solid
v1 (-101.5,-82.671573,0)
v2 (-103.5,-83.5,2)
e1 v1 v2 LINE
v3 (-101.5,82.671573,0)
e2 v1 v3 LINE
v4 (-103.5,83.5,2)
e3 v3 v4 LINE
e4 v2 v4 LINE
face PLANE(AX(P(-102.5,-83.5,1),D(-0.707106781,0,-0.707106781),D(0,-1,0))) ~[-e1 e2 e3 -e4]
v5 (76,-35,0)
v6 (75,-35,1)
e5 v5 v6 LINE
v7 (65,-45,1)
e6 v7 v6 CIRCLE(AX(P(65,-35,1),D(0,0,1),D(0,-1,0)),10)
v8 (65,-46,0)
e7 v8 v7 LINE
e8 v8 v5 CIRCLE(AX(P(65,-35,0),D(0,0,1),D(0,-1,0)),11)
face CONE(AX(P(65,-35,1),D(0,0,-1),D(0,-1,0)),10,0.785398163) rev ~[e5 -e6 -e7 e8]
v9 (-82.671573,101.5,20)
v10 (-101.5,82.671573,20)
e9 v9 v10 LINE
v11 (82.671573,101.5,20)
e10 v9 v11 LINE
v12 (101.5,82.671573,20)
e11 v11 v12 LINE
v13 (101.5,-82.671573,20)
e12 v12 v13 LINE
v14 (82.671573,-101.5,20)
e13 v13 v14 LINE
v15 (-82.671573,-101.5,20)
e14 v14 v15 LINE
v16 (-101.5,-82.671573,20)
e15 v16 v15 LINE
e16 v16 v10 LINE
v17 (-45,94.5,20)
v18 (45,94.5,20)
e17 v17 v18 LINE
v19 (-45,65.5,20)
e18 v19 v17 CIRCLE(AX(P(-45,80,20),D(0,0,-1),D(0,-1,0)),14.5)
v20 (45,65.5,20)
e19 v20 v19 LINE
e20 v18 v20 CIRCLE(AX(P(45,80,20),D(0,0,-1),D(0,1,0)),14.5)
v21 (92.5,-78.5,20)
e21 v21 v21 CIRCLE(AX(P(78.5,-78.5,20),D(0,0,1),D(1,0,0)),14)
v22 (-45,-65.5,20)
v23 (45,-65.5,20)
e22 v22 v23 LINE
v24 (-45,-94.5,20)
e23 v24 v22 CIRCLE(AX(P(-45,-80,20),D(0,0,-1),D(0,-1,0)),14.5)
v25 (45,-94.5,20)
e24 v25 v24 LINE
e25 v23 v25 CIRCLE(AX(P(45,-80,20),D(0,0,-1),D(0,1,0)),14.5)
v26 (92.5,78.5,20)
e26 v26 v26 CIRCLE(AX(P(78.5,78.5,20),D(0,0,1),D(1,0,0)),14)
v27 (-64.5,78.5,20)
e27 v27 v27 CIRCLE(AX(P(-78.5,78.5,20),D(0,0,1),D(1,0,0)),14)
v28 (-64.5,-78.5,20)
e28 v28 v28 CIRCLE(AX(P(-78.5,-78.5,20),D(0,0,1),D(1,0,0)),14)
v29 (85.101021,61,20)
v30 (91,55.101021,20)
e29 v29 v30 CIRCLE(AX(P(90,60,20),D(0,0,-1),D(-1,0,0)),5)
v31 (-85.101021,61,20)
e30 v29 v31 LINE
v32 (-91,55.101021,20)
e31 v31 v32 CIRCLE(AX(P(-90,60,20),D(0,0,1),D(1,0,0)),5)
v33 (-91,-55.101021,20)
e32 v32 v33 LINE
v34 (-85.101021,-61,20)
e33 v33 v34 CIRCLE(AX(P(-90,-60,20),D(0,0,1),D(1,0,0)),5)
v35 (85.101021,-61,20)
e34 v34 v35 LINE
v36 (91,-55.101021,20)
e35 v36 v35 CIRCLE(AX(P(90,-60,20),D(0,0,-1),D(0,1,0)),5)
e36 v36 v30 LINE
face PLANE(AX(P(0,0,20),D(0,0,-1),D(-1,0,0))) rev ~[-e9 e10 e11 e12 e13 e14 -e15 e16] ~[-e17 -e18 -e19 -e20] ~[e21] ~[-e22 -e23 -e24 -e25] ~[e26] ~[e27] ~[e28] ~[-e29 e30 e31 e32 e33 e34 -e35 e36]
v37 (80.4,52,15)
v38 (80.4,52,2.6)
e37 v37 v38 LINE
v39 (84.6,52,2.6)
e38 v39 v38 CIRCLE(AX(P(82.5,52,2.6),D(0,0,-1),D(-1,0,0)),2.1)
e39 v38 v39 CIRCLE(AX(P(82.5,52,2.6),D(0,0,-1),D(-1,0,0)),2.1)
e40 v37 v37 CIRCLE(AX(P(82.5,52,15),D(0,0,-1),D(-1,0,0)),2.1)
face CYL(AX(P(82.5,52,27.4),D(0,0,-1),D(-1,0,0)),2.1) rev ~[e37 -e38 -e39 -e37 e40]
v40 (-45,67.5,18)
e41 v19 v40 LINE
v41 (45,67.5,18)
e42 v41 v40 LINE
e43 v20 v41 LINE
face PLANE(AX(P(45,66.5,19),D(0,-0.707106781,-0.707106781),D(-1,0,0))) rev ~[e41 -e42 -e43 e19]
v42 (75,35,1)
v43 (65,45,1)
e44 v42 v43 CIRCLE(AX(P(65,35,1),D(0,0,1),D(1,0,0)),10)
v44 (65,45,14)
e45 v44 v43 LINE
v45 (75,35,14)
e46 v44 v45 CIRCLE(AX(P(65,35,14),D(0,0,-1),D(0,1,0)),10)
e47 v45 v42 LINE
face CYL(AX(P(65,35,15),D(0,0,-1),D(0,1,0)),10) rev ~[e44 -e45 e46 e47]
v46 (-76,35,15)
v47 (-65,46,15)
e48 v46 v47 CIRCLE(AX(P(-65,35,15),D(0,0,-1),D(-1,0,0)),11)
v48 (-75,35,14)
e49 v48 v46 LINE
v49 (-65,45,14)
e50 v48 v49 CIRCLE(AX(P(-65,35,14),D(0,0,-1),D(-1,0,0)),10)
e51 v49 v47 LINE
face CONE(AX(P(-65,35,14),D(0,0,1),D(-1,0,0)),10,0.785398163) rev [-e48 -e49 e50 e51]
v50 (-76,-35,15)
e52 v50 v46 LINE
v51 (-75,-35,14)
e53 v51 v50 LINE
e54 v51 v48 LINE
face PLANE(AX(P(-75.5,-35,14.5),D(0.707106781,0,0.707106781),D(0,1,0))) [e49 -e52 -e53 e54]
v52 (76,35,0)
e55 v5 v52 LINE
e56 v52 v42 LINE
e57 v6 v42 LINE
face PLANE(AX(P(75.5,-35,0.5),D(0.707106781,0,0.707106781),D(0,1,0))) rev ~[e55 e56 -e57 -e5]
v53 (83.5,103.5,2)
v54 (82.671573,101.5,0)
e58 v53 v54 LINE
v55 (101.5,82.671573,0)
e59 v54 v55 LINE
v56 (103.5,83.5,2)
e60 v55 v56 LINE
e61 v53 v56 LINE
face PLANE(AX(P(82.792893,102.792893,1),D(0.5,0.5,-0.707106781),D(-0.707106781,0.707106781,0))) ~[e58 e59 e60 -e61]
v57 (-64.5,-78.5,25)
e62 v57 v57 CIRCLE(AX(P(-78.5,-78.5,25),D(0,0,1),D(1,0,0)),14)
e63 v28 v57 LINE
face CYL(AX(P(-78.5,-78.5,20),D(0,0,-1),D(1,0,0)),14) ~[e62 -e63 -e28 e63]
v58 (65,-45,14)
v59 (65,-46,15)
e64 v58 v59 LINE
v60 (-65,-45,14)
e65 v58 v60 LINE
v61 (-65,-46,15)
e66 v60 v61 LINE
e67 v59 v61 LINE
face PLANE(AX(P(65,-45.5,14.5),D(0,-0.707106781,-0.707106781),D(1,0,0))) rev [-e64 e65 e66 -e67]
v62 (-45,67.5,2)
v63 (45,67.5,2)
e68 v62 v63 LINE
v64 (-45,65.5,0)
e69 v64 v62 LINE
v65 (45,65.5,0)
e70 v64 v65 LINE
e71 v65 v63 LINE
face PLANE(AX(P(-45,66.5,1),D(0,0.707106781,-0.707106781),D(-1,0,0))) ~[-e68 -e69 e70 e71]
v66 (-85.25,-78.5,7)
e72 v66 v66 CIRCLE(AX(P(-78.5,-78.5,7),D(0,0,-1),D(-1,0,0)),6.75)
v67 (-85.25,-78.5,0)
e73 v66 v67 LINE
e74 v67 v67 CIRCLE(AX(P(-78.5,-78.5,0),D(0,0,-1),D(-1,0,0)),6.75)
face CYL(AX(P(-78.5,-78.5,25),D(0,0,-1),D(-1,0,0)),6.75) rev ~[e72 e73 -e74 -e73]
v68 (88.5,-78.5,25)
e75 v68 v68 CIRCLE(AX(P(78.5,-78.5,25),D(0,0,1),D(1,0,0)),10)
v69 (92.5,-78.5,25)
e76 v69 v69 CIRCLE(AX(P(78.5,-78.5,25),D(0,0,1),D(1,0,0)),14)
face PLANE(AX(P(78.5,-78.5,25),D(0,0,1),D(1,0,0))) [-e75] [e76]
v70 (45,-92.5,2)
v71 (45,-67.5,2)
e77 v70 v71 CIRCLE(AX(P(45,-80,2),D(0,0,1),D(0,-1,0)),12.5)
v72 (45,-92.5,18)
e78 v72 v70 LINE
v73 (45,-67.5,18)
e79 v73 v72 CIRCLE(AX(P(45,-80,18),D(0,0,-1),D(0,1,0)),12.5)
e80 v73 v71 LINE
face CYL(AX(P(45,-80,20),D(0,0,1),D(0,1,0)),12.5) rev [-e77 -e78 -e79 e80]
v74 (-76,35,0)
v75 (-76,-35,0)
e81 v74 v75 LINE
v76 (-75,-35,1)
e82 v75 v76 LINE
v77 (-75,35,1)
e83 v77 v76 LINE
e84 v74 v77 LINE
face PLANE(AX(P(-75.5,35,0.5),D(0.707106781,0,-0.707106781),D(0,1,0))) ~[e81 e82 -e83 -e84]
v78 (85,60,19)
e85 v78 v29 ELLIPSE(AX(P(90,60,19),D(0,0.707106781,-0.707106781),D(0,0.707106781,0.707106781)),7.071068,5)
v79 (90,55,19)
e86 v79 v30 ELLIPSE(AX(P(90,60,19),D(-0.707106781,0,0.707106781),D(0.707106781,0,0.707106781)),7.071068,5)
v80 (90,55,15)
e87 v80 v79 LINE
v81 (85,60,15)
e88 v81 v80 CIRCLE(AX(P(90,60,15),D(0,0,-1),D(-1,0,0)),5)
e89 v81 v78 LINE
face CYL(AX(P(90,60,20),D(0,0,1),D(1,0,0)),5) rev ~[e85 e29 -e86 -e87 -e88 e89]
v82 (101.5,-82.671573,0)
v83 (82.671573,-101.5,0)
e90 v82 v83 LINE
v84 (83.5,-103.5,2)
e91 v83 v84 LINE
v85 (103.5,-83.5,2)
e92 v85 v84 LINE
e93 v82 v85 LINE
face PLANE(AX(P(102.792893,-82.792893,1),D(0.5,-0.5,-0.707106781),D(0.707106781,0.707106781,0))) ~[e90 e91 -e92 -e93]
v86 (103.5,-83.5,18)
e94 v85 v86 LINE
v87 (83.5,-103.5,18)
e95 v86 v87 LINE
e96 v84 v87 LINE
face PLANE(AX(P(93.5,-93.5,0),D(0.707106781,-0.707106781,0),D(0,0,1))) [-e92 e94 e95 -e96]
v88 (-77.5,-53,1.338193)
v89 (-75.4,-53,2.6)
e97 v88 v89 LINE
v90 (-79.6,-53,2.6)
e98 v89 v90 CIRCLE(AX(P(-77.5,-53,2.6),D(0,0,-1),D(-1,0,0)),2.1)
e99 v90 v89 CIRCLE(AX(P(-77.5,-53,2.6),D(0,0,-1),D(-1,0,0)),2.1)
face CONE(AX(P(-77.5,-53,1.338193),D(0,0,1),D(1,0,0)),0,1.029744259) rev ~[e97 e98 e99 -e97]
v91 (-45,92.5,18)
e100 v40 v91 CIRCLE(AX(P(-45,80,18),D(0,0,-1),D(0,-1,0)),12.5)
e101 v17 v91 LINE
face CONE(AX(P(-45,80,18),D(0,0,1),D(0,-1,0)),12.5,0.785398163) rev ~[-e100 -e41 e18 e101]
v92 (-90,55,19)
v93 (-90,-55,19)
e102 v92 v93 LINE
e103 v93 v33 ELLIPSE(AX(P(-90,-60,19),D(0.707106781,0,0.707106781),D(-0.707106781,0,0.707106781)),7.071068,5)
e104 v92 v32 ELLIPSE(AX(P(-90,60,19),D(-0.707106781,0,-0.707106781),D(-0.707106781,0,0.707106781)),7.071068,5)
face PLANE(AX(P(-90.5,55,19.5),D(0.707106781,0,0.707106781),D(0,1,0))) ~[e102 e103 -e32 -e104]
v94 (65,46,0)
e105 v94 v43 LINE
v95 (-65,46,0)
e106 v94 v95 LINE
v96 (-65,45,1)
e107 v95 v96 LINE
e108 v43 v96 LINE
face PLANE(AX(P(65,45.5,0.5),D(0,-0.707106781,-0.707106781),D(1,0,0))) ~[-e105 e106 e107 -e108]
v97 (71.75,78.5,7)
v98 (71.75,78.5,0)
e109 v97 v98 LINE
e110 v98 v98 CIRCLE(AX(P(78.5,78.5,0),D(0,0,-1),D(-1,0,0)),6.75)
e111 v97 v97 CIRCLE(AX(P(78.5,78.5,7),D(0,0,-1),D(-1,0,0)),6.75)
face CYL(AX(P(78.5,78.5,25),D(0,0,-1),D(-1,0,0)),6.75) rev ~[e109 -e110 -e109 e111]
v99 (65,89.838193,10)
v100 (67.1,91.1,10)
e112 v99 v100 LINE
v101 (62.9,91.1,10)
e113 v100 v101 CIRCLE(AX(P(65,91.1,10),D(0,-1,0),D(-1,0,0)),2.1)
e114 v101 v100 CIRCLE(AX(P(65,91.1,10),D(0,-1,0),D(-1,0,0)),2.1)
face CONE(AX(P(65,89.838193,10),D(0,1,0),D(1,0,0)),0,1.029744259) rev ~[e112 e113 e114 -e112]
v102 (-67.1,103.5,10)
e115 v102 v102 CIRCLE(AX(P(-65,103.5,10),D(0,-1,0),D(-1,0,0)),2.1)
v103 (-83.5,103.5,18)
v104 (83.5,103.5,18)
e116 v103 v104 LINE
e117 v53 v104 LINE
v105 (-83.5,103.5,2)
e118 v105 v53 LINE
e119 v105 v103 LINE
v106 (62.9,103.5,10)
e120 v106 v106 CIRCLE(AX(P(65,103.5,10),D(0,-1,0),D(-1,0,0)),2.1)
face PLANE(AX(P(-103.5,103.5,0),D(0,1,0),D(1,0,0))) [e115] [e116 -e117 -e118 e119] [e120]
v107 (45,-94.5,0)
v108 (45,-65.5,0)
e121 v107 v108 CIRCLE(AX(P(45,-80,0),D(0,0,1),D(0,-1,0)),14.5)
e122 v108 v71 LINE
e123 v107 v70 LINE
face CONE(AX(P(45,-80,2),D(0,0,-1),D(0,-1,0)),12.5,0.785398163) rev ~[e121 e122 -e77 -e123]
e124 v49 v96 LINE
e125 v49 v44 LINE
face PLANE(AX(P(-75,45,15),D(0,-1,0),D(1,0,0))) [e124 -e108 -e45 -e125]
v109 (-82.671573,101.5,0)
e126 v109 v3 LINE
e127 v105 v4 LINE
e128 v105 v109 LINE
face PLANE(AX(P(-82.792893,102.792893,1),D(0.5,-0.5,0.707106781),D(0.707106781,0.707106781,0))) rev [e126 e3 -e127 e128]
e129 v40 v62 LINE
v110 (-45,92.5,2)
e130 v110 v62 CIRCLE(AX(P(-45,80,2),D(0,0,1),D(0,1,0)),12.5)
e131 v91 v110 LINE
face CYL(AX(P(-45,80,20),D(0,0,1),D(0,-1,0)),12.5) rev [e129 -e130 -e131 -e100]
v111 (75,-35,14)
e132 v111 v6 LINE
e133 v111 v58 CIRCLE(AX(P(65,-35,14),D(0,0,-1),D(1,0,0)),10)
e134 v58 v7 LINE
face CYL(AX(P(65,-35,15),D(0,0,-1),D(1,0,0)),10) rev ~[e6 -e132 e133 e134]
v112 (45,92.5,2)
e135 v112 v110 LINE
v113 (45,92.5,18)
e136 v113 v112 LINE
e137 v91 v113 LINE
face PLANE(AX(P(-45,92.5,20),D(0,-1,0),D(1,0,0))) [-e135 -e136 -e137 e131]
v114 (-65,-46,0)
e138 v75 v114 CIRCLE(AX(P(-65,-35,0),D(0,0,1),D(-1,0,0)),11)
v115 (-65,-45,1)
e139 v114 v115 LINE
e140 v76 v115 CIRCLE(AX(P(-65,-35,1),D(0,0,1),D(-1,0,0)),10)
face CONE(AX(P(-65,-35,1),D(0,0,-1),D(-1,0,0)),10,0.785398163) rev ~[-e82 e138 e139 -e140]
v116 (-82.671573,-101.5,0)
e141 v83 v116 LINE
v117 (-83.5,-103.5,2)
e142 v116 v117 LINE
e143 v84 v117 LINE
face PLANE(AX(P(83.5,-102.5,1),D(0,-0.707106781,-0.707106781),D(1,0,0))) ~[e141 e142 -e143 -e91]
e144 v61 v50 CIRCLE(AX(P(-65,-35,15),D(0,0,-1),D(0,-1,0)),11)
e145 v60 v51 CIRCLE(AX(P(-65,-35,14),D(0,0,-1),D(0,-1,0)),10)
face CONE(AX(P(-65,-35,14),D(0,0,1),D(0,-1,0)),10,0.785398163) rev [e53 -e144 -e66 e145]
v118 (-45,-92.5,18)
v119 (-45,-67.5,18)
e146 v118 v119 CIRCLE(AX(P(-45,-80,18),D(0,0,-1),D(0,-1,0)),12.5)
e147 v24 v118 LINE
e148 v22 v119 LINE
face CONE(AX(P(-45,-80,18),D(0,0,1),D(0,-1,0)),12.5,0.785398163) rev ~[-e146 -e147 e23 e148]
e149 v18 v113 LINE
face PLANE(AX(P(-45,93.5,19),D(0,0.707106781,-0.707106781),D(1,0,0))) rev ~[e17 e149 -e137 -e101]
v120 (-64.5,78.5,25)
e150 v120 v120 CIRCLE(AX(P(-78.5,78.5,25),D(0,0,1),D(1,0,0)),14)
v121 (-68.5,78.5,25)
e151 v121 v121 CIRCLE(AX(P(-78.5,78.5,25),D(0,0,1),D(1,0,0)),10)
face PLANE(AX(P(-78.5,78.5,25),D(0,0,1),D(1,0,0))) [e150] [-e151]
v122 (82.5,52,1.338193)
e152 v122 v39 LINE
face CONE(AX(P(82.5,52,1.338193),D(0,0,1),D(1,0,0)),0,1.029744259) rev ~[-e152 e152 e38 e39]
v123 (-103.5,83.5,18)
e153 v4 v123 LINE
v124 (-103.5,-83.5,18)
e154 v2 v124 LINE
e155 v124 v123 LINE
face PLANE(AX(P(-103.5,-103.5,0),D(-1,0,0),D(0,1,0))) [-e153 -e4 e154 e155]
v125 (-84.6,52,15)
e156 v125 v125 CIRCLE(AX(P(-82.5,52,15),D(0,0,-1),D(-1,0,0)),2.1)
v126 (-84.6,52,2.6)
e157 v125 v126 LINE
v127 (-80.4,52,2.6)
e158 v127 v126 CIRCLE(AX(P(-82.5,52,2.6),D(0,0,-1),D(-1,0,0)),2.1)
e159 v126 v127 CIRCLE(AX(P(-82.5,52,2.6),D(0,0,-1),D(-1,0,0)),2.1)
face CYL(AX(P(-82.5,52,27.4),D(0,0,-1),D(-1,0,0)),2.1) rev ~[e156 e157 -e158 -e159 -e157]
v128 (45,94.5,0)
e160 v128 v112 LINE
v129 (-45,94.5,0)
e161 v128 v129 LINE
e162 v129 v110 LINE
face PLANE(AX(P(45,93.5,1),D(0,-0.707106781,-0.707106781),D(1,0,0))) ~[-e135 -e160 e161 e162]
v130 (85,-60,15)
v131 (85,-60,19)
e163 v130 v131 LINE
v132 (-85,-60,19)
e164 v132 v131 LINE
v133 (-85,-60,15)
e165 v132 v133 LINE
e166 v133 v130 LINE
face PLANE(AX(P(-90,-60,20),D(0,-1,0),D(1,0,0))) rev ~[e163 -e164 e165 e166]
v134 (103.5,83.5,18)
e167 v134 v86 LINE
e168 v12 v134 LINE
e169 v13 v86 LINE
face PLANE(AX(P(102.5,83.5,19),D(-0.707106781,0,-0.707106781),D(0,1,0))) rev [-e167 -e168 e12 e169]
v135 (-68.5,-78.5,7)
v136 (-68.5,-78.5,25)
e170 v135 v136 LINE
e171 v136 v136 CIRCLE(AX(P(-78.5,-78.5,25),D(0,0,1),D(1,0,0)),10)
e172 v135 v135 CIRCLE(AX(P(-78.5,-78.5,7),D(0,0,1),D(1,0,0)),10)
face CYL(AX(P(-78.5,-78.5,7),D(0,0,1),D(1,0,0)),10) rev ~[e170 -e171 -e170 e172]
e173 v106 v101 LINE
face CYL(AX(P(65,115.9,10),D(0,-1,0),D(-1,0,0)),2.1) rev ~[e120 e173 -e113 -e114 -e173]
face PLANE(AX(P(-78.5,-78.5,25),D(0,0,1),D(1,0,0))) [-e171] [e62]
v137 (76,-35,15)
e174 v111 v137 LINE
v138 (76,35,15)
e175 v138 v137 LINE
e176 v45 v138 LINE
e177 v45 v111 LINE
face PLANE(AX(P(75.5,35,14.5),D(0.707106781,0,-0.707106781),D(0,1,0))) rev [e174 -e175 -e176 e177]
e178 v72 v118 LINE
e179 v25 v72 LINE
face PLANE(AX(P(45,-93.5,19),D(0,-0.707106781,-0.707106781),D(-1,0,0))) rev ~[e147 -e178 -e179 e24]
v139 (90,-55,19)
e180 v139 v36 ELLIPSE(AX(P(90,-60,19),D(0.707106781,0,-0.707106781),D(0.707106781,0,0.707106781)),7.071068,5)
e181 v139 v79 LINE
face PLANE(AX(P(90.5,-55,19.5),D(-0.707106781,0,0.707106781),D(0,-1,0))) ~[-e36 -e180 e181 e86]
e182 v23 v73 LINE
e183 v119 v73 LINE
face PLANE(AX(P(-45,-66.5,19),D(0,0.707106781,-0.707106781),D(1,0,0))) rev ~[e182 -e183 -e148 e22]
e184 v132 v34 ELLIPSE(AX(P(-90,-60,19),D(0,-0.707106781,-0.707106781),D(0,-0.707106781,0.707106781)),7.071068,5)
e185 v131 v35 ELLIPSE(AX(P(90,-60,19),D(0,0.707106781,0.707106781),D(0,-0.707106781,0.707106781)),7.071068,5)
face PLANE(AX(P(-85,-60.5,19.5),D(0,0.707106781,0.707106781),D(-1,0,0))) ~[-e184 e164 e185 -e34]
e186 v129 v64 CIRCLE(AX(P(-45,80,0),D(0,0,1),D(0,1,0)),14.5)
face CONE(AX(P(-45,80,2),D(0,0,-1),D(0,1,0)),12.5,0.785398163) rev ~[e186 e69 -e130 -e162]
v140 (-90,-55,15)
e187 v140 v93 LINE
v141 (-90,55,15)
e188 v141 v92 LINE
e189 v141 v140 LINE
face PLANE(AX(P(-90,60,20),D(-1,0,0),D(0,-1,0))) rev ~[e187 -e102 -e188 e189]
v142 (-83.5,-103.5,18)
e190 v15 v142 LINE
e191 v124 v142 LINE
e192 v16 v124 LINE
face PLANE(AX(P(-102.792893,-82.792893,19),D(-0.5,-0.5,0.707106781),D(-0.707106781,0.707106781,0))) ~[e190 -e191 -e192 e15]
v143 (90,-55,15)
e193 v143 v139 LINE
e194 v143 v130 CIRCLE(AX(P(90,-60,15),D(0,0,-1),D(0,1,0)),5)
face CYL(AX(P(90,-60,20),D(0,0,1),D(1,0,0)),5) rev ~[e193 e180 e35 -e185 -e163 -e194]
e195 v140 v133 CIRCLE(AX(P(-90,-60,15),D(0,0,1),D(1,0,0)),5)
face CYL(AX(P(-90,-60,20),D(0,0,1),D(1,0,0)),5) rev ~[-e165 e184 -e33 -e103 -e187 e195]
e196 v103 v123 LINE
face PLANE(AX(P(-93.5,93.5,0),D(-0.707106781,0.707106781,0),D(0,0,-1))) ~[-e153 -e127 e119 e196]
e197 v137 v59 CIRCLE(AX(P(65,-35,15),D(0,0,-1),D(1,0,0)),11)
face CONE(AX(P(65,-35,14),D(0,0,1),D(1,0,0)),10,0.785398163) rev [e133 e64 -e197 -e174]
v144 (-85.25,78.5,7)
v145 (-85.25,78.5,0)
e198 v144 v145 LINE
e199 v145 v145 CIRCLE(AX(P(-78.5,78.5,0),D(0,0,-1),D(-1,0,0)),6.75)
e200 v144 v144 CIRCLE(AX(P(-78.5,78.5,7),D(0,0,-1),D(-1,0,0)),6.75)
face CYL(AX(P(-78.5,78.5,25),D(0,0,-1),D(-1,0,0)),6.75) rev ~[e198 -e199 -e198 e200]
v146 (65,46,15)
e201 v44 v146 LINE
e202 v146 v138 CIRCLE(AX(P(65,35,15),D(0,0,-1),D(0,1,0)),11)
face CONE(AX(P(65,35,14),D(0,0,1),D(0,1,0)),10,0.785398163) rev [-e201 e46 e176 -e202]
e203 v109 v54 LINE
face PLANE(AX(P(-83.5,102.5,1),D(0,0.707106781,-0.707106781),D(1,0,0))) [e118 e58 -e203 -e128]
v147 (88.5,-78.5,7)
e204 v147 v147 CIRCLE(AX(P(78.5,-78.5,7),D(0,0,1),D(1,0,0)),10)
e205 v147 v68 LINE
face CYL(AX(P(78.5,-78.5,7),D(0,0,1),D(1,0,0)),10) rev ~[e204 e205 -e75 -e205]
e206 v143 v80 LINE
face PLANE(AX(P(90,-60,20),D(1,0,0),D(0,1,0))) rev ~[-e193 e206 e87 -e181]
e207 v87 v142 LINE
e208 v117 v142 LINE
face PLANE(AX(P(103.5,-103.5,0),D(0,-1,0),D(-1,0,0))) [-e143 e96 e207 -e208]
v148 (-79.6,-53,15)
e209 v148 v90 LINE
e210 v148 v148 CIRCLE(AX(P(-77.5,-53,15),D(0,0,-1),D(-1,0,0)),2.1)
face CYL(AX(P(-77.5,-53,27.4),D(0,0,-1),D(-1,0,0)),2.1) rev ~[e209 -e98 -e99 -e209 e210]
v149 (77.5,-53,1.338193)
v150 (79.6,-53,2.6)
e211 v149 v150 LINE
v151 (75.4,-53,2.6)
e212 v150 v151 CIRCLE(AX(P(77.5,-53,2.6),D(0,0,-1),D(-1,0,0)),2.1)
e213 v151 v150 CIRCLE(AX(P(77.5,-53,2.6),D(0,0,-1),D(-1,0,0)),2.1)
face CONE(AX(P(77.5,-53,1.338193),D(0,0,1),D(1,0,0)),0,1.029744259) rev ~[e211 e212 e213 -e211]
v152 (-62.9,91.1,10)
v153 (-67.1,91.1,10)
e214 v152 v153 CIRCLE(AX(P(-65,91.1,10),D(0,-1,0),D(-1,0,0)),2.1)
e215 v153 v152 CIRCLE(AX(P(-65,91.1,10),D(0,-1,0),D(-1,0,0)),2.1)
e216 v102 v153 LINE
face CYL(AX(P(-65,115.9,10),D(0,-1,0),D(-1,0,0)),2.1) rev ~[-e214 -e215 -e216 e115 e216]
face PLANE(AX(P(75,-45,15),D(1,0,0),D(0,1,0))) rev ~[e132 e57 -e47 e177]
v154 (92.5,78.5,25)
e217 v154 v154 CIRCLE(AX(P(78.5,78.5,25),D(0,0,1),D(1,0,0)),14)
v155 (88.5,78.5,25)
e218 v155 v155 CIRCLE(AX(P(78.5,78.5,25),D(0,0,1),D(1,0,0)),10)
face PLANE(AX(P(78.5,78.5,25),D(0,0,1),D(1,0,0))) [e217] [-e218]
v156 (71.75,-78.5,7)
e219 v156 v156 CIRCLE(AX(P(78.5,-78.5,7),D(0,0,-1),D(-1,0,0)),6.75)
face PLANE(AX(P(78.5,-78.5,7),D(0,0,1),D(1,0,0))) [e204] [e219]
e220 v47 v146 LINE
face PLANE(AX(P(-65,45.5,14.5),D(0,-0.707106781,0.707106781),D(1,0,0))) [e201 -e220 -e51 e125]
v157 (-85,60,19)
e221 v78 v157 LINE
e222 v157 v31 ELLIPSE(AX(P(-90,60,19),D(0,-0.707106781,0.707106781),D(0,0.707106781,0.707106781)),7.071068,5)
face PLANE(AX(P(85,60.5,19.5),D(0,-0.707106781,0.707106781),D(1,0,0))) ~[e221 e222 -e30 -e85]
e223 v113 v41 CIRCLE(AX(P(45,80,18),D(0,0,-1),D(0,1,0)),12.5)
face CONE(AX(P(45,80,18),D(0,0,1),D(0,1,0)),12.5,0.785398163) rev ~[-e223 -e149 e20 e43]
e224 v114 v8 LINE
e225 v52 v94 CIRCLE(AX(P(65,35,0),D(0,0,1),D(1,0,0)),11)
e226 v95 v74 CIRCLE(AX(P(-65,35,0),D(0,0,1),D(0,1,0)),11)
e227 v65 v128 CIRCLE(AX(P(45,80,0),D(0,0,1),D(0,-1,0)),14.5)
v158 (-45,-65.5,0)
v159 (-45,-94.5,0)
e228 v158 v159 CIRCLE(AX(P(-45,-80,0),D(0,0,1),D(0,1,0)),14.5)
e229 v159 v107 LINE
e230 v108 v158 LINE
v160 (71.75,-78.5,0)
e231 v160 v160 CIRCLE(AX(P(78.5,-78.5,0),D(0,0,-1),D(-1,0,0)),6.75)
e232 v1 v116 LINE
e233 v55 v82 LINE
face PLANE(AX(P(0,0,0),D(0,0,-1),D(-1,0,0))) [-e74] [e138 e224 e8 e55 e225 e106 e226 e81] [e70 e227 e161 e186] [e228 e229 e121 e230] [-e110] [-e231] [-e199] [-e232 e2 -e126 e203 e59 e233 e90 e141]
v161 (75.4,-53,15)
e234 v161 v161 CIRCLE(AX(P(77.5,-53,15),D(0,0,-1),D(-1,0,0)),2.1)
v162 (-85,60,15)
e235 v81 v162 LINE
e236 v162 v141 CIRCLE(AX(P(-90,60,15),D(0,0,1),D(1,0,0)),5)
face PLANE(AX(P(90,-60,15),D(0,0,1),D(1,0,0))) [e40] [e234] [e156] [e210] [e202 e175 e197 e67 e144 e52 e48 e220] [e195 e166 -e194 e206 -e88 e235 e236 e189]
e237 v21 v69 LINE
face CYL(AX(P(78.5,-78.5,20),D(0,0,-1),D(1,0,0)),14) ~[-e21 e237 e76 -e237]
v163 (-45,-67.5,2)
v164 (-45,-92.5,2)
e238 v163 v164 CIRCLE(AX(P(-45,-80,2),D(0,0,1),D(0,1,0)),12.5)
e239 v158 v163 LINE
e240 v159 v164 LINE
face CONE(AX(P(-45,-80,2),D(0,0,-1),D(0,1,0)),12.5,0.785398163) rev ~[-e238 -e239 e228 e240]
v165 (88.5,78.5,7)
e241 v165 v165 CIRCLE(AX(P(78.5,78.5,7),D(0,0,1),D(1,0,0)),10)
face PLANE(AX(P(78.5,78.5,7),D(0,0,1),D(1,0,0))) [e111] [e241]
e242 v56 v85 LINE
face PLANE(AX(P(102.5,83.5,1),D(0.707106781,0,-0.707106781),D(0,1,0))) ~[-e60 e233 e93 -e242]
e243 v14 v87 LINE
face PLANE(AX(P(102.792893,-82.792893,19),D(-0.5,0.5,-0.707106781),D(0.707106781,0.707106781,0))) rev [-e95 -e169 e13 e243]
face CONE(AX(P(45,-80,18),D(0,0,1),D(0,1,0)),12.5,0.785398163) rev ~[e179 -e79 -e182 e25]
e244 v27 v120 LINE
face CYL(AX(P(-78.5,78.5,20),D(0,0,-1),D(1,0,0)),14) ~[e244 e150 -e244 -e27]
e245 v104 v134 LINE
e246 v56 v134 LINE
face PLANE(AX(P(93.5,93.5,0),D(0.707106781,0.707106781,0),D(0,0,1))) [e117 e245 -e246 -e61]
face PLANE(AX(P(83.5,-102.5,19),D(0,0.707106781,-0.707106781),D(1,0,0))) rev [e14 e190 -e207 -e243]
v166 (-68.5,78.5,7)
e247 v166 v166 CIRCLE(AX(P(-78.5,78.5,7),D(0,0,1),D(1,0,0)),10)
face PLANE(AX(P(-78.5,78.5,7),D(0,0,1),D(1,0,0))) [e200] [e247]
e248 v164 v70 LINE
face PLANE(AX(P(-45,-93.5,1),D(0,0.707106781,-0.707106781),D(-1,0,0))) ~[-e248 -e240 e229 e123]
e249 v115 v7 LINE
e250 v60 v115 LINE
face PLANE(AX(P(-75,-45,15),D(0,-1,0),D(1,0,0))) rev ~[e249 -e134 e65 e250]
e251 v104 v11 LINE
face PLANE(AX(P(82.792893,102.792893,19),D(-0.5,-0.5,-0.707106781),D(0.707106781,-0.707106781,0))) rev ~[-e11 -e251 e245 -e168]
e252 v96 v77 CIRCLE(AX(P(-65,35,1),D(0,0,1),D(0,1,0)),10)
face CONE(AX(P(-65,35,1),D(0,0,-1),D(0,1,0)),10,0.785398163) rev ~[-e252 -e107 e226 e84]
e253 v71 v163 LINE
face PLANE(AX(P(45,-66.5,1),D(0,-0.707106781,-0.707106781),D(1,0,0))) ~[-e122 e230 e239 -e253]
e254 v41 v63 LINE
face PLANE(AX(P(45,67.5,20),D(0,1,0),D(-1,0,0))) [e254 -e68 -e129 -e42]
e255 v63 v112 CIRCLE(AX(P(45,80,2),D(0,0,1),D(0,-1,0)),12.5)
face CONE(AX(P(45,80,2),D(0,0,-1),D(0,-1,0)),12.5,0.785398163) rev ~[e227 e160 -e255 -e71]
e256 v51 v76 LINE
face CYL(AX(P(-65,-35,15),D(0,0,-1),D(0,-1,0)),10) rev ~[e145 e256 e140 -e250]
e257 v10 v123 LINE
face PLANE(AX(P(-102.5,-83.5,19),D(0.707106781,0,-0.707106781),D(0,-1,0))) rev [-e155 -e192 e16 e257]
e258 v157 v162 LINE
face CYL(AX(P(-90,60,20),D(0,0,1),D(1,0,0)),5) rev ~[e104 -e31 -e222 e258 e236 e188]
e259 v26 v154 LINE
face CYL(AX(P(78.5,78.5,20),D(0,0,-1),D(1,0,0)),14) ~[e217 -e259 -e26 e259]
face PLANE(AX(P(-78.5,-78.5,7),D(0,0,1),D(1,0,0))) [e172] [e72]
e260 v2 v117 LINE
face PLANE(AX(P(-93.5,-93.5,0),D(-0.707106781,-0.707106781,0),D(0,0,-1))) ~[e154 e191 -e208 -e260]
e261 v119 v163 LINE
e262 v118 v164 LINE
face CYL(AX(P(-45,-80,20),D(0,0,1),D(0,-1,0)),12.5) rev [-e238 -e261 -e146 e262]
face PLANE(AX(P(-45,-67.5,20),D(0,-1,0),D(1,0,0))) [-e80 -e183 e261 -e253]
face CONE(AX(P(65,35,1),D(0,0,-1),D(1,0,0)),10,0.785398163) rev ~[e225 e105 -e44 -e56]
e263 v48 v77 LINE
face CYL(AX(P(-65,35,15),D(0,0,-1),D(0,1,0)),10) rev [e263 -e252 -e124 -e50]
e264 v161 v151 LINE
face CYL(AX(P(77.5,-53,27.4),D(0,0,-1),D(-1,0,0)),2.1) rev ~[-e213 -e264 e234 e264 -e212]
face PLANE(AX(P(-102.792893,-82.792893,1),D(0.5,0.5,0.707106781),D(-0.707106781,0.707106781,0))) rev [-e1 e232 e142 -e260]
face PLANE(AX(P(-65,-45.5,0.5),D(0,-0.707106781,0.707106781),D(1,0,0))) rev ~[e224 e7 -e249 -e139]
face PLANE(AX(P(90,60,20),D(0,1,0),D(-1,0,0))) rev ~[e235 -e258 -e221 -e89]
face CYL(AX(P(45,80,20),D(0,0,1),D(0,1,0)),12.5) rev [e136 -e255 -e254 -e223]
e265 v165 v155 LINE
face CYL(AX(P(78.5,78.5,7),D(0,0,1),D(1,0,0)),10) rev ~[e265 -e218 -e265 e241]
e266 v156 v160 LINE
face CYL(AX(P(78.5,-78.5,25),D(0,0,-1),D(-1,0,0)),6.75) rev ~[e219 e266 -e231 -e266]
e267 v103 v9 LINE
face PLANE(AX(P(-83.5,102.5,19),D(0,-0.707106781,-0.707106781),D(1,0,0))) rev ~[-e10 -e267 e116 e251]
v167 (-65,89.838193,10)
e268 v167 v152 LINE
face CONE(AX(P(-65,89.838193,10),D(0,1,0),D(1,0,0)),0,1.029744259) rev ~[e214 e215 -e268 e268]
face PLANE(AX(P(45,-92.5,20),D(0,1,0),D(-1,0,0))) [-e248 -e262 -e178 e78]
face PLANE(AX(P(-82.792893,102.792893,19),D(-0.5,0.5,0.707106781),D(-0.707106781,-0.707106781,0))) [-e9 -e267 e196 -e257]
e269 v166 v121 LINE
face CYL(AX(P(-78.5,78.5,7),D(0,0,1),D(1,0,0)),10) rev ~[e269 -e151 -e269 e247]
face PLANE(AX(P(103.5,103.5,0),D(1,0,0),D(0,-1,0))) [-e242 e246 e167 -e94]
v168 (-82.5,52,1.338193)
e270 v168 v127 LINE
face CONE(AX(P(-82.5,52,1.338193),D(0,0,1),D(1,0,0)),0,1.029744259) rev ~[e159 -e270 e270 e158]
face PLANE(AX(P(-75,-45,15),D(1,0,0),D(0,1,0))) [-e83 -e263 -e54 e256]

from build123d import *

# Parameters (mm, degrees)
EXTRUDE_1_DEPTH           = 20
SKETCH_4_R                = 13.999999999999998
EXTRUDE_2_DEPTH           = 5
HOLE_WIZARD_1_D           = 13.5
HOLE_WIZARD_1_DEPTH       = 57
HOLE_WIZARD_1_CBORE_D     = 20
HOLE_WIZARD_1_CBORE_DEPTH = 18
HOLE_WIZARD_1_TIP         = 4.055809178436032
CHAMFER_2_SIZE            = 20
CUT_EXTRUDE_1_DEPTH       = 5
SKETCH_10_R               = 5.000000000000005
CUT_EXTRUDE_2_DEPTH       = 5
CUT_EXTRUDE_3_DEPTH       = 148.73117477364084
CHAMFER_1_SIZE            = 2
SKETCH_12_W               = 150
SKETCH_12_H               = 89.99999999999999
CUT_EXTRUDE_4_DEPTH       = 148.1376906166466
FILLET_1_R                = 10
CHAMFER_3_SIZE            = 1
HOLE_WIZARD_M5_1_D        = 4.2
HOLE_WIZARD_M5_1_DEPTH    = 12.4
HOLE_WIZARD_M5_1_TIP      = 1.2618072999578767
HOLE_WIZARD_M5_2_D        = 4.2
HOLE_WIZARD_M5_2_DEPTH    = 12.4
HOLE_WIZARD_M5_2_TIP      = 1.2618072999578767


with BuildPart() as part:
    # 草图1 → 凸台-拉伸1 (new body)
    with BuildSketch(Plane.XY):
        Polygon((-103.49999999999999, 103.50000000000003), (103.50000000000001, 103.50000000000003), (103.50000000000001, -103.49999999999999), (-103.49999999999996, -103.49999999999999), align=None)
    extrude(amount=EXTRUDE_1_DEPTH)

    # 草图4 → 凸台-拉伸2 (add)
    with BuildSketch(Plane.XY.offset(20)):
        with Locations((-78.5, -78.5)):
            Circle(SKETCH_4_R)
        with Locations((-78.5, 78.5)):
            Circle(SKETCH_4_R)
        with Locations((78.5, 78.5)):
            Circle(SKETCH_4_R)
        with Locations((78.5, -78.5)):
            Circle(SKETCH_4_R)
    extrude(amount=EXTRUDE_2_DEPTH)

    # 打孔尺寸(%根据)内六角圆柱头螺钉的类型1
    with Locations(Plane.XY.offset(25)):
        with Locations((-78.5, -78.5), (-78.5, 78.5), (78.5, 78.5), (78.5, -78.5)):
            CounterBoreHole(HOLE_WIZARD_1_D / 2, HOLE_WIZARD_1_CBORE_D / 2, HOLE_WIZARD_1_CBORE_DEPTH, depth=HOLE_WIZARD_1_DEPTH)
            with Locations((0, 0, -(HOLE_WIZARD_1_DEPTH + HOLE_WIZARD_1_TIP / 2))):  # 118° drill point
                Cone(0, HOLE_WIZARD_1_D / 2, HOLE_WIZARD_1_TIP, mode=Mode.SUBTRACT)

    # 倒角2
    chamfer_2_edges = [part.edges().sort_by_distance(p)[0] for p in [
        (103.50000000000001, -103.49999999999999, 10),
        (-103.49999999999996, -103.49999999999999, 10),
        (-103.49999999999999, 103.50000000000003, 10),
        (103.50000000000001, 103.50000000000003, 10),
    ]]
    chamfer(chamfer_2_edges, length=CHAMFER_2_SIZE)

    # 草图9 → 切除-拉伸1 (cut)
    with BuildSketch(Plane.XY.offset(20)):
        Polygon((90, 60.000000000000014), (-90, 59.999999999999986), (-89.99999999999999, -60), (90.00000000000001, -59.999999999999986), align=None)
    extrude(amount=-CUT_EXTRUDE_1_DEPTH, mode=Mode.SUBTRACT)

    # 草图10 → 切除-拉伸2 (cut)
    with BuildSketch(Plane.XY.offset(20)):
        with Locations((90.00000000000001, -59.999999999999986)):
            Circle(SKETCH_10_R)
        with Locations((-89.99999999999999, -60)):
            Circle(SKETCH_10_R)
        with Locations((90, 60.000000000000014)):
            Circle(SKETCH_10_R)
        with Locations((-90, 59.999999999999986)):
            Circle(SKETCH_10_R)
    extrude(amount=-CUT_EXTRUDE_2_DEPTH, mode=Mode.SUBTRACT)

    # 草图11 → 切除-拉伸3 (cut, through all)
    with BuildSketch(Plane.XY.offset(20)):
        with BuildLine():
            Line((45.000000000000036, -92.49999999999997), (-44.99999999999998, -92.5))
            ThreePointArc((-44.99999999999998, -92.5), (-57.499999999999964, -80.00000000000001), (-44.99999999999998, -67.50000000000003))
            Line((-44.99999999999998, -67.50000000000003), (45.00000000000001, -67.5))
            ThreePointArc((45.00000000000001, -67.5), (57.50000000000001, -79.99999999999997), (45.000000000000036, -92.49999999999997))
        make_face()
        with BuildLine():
            Line((45.000000000000014, 67.50000000000004), (-45, 67.50000000000001))
            ThreePointArc((-45, 67.50000000000001), (-57.500000000000014, 80.00000000000001), (-45, 92.50000000000003))
            Line((-45, 92.50000000000003), (44.999999999999986, 92.50000000000006))
            ThreePointArc((44.999999999999986, 92.50000000000006), (57.5, 80.00000000000006), (45.000000000000014, 67.50000000000004))
        make_face()
    extrude(amount=-CUT_EXTRUDE_3_DEPTH, mode=Mode.SUBTRACT)

    # 倒角1
    chamfer_1_edges = [part.edges().sort_by_distance(p)[0] for p in [
        (57.50000000000001, -79.99999999999997, 0),
        (2.487e-14, -92.49999999999999, 0),
        (-57.49999999999997, -80.00000000000001, 0),
        (1.066e-14, -67.50000000000003, 0),
        (57.50000000000001, -79.99999999999997, 20),
        (1.421e-14, -67.50000000000001, 20),
        (-57.49999999999997, -80.00000000000001, 20),
        (2.842e-14, -92.49999999999999, 20),
        (57.50000000000001, 80.00000000000007, 0),
        (7.11e-15, 67.50000000000003, 0),
        (-57.50000000000001, 80.00000000000003, 0),
        (-1.066e-14, 92.50000000000003, 0),
        (57.50000000000001, 80.00000000000007, 20),
        (-7.11e-15, 92.50000000000004, 20),
        (-57.50000000000001, 80.00000000000003, 20),
        (7.11e-15, 67.50000000000003, 20),
        (1.421e-14, 103.50000000000003, 0),
        (1.421e-14, 103.50000000000003, 20),
        (103.50000000000001, 2.842e-14, 0),
        (2.842e-14, -103.49999999999999, 0),
        (-103.49999999999997, 1.421e-14, 0),
        (93.50000000000001, -93.49999999999999, 0),
        (-93.49999999999996, -93.5, 0),
        (-93.49999999999999, 93.50000000000003, 0),
        (93.50000000000001, 93.50000000000004, 0),
        (103.50000000000001, 2.842e-14, 20),
        (-103.49999999999997, 1.421e-14, 20),
        (2.842e-14, -103.49999999999999, 20),
        (93.50000000000001, -93.49999999999999, 20),
        (-93.49999999999996, -93.5, 20),
        (-93.49999999999999, 93.50000000000003, 20),
        (93.50000000000001, 93.50000000000004, 20),
    ]]
    chamfer(chamfer_1_edges, length=CHAMFER_1_SIZE)

    # 草图12 → 切除-拉伸4 (cut, through all)
    with BuildSketch(Plane.XY.offset(15)):
        Rectangle(SKETCH_12_W, SKETCH_12_H)
    extrude(amount=-CUT_EXTRUDE_4_DEPTH, mode=Mode.SUBTRACT)

    # 圆角1
    fillet_1_edges = [part.edges().sort_by_distance(p)[0] for p in [
        (-75, -45, 7.5),
        (-75, 44.999999999999986, 7.5),
        (74.99999999999999, 44.999999999999986, 7.5),
        (74.99999999999999, -45, 7.5),
    ]]
    fillet(fillet_1_edges, radius=FILLET_1_R)

    # 倒角3
    chamfer_3_edges = [part.edges().sort_by_distance(p)[0] for p in [
        (1.421e-14, -59.99999999999999, 20),
        (90, 2.132e-14, 20),
        (0, 60, 20),
        (-90, -7.11e-15, 20),
        (-1.421e-14, 44.999999999999986, 15),
        (-7.11e-15, 44.999999999999986, 0),
        (74.99999999999999, -7.11e-15, 15),
        (74.99999999999999, -7.11e-15, 0),
        (-75, -7.11e-15, 15),
        (-75, -7.11e-15, 0),
        (-1.421e-14, -45, 15),
        (0, -45, 0),
        (72.07106781186546, 42.07106781186546, 15),
        (72.07106781186546, 42.071067811865454, 0),
        (-72.07106781186548, 42.07106781186546, 15),
        (-72.07106781186548, 42.07106781186546, 0),
        (-72.07106781186548, -42.071067811865476, 15),
        (-72.07106781186548, -42.071067811865476, 0),
        (72.07106781186548, -42.071067811865476, 15),
        (72.07106781186548, -42.071067811865476, 0),
    ]]
    chamfer(chamfer_3_edges, length=CHAMFER_3_SIZE)

    # M5 螺纹孔1
    with Locations(Plane.XY.offset(15)):
        with Locations((77.5, -53), (-77.5, -53), (-82.5, 52), (82.5, 52)):
            Hole(HOLE_WIZARD_M5_1_D / 2, depth=HOLE_WIZARD_M5_1_DEPTH)
            with Locations((0, 0, -(HOLE_WIZARD_M5_1_DEPTH + HOLE_WIZARD_M5_1_TIP / 2))):  # 118° drill point
                Cone(0, HOLE_WIZARD_M5_1_D / 2, HOLE_WIZARD_M5_1_TIP, mode=Mode.SUBTRACT)

    # M5 螺纹孔2
    with Locations(Plane(origin=(0, 103.50000000000003, 0), x_dir=(1, 0, 0), z_dir=(0, 1, 0))):
        with Locations((-65, -10), (65, -10)):
            Hole(HOLE_WIZARD_M5_2_D / 2, depth=HOLE_WIZARD_M5_2_DEPTH)
            with Locations((0, 0, -(HOLE_WIZARD_M5_2_DEPTH + HOLE_WIZARD_M5_2_TIP / 2))):  # 118° drill point
                Cone(0, HOLE_WIZARD_M5_2_D / 2, HOLE_WIZARD_M5_2_TIP, mode=Mode.SUBTRACT)


solid = part.part
